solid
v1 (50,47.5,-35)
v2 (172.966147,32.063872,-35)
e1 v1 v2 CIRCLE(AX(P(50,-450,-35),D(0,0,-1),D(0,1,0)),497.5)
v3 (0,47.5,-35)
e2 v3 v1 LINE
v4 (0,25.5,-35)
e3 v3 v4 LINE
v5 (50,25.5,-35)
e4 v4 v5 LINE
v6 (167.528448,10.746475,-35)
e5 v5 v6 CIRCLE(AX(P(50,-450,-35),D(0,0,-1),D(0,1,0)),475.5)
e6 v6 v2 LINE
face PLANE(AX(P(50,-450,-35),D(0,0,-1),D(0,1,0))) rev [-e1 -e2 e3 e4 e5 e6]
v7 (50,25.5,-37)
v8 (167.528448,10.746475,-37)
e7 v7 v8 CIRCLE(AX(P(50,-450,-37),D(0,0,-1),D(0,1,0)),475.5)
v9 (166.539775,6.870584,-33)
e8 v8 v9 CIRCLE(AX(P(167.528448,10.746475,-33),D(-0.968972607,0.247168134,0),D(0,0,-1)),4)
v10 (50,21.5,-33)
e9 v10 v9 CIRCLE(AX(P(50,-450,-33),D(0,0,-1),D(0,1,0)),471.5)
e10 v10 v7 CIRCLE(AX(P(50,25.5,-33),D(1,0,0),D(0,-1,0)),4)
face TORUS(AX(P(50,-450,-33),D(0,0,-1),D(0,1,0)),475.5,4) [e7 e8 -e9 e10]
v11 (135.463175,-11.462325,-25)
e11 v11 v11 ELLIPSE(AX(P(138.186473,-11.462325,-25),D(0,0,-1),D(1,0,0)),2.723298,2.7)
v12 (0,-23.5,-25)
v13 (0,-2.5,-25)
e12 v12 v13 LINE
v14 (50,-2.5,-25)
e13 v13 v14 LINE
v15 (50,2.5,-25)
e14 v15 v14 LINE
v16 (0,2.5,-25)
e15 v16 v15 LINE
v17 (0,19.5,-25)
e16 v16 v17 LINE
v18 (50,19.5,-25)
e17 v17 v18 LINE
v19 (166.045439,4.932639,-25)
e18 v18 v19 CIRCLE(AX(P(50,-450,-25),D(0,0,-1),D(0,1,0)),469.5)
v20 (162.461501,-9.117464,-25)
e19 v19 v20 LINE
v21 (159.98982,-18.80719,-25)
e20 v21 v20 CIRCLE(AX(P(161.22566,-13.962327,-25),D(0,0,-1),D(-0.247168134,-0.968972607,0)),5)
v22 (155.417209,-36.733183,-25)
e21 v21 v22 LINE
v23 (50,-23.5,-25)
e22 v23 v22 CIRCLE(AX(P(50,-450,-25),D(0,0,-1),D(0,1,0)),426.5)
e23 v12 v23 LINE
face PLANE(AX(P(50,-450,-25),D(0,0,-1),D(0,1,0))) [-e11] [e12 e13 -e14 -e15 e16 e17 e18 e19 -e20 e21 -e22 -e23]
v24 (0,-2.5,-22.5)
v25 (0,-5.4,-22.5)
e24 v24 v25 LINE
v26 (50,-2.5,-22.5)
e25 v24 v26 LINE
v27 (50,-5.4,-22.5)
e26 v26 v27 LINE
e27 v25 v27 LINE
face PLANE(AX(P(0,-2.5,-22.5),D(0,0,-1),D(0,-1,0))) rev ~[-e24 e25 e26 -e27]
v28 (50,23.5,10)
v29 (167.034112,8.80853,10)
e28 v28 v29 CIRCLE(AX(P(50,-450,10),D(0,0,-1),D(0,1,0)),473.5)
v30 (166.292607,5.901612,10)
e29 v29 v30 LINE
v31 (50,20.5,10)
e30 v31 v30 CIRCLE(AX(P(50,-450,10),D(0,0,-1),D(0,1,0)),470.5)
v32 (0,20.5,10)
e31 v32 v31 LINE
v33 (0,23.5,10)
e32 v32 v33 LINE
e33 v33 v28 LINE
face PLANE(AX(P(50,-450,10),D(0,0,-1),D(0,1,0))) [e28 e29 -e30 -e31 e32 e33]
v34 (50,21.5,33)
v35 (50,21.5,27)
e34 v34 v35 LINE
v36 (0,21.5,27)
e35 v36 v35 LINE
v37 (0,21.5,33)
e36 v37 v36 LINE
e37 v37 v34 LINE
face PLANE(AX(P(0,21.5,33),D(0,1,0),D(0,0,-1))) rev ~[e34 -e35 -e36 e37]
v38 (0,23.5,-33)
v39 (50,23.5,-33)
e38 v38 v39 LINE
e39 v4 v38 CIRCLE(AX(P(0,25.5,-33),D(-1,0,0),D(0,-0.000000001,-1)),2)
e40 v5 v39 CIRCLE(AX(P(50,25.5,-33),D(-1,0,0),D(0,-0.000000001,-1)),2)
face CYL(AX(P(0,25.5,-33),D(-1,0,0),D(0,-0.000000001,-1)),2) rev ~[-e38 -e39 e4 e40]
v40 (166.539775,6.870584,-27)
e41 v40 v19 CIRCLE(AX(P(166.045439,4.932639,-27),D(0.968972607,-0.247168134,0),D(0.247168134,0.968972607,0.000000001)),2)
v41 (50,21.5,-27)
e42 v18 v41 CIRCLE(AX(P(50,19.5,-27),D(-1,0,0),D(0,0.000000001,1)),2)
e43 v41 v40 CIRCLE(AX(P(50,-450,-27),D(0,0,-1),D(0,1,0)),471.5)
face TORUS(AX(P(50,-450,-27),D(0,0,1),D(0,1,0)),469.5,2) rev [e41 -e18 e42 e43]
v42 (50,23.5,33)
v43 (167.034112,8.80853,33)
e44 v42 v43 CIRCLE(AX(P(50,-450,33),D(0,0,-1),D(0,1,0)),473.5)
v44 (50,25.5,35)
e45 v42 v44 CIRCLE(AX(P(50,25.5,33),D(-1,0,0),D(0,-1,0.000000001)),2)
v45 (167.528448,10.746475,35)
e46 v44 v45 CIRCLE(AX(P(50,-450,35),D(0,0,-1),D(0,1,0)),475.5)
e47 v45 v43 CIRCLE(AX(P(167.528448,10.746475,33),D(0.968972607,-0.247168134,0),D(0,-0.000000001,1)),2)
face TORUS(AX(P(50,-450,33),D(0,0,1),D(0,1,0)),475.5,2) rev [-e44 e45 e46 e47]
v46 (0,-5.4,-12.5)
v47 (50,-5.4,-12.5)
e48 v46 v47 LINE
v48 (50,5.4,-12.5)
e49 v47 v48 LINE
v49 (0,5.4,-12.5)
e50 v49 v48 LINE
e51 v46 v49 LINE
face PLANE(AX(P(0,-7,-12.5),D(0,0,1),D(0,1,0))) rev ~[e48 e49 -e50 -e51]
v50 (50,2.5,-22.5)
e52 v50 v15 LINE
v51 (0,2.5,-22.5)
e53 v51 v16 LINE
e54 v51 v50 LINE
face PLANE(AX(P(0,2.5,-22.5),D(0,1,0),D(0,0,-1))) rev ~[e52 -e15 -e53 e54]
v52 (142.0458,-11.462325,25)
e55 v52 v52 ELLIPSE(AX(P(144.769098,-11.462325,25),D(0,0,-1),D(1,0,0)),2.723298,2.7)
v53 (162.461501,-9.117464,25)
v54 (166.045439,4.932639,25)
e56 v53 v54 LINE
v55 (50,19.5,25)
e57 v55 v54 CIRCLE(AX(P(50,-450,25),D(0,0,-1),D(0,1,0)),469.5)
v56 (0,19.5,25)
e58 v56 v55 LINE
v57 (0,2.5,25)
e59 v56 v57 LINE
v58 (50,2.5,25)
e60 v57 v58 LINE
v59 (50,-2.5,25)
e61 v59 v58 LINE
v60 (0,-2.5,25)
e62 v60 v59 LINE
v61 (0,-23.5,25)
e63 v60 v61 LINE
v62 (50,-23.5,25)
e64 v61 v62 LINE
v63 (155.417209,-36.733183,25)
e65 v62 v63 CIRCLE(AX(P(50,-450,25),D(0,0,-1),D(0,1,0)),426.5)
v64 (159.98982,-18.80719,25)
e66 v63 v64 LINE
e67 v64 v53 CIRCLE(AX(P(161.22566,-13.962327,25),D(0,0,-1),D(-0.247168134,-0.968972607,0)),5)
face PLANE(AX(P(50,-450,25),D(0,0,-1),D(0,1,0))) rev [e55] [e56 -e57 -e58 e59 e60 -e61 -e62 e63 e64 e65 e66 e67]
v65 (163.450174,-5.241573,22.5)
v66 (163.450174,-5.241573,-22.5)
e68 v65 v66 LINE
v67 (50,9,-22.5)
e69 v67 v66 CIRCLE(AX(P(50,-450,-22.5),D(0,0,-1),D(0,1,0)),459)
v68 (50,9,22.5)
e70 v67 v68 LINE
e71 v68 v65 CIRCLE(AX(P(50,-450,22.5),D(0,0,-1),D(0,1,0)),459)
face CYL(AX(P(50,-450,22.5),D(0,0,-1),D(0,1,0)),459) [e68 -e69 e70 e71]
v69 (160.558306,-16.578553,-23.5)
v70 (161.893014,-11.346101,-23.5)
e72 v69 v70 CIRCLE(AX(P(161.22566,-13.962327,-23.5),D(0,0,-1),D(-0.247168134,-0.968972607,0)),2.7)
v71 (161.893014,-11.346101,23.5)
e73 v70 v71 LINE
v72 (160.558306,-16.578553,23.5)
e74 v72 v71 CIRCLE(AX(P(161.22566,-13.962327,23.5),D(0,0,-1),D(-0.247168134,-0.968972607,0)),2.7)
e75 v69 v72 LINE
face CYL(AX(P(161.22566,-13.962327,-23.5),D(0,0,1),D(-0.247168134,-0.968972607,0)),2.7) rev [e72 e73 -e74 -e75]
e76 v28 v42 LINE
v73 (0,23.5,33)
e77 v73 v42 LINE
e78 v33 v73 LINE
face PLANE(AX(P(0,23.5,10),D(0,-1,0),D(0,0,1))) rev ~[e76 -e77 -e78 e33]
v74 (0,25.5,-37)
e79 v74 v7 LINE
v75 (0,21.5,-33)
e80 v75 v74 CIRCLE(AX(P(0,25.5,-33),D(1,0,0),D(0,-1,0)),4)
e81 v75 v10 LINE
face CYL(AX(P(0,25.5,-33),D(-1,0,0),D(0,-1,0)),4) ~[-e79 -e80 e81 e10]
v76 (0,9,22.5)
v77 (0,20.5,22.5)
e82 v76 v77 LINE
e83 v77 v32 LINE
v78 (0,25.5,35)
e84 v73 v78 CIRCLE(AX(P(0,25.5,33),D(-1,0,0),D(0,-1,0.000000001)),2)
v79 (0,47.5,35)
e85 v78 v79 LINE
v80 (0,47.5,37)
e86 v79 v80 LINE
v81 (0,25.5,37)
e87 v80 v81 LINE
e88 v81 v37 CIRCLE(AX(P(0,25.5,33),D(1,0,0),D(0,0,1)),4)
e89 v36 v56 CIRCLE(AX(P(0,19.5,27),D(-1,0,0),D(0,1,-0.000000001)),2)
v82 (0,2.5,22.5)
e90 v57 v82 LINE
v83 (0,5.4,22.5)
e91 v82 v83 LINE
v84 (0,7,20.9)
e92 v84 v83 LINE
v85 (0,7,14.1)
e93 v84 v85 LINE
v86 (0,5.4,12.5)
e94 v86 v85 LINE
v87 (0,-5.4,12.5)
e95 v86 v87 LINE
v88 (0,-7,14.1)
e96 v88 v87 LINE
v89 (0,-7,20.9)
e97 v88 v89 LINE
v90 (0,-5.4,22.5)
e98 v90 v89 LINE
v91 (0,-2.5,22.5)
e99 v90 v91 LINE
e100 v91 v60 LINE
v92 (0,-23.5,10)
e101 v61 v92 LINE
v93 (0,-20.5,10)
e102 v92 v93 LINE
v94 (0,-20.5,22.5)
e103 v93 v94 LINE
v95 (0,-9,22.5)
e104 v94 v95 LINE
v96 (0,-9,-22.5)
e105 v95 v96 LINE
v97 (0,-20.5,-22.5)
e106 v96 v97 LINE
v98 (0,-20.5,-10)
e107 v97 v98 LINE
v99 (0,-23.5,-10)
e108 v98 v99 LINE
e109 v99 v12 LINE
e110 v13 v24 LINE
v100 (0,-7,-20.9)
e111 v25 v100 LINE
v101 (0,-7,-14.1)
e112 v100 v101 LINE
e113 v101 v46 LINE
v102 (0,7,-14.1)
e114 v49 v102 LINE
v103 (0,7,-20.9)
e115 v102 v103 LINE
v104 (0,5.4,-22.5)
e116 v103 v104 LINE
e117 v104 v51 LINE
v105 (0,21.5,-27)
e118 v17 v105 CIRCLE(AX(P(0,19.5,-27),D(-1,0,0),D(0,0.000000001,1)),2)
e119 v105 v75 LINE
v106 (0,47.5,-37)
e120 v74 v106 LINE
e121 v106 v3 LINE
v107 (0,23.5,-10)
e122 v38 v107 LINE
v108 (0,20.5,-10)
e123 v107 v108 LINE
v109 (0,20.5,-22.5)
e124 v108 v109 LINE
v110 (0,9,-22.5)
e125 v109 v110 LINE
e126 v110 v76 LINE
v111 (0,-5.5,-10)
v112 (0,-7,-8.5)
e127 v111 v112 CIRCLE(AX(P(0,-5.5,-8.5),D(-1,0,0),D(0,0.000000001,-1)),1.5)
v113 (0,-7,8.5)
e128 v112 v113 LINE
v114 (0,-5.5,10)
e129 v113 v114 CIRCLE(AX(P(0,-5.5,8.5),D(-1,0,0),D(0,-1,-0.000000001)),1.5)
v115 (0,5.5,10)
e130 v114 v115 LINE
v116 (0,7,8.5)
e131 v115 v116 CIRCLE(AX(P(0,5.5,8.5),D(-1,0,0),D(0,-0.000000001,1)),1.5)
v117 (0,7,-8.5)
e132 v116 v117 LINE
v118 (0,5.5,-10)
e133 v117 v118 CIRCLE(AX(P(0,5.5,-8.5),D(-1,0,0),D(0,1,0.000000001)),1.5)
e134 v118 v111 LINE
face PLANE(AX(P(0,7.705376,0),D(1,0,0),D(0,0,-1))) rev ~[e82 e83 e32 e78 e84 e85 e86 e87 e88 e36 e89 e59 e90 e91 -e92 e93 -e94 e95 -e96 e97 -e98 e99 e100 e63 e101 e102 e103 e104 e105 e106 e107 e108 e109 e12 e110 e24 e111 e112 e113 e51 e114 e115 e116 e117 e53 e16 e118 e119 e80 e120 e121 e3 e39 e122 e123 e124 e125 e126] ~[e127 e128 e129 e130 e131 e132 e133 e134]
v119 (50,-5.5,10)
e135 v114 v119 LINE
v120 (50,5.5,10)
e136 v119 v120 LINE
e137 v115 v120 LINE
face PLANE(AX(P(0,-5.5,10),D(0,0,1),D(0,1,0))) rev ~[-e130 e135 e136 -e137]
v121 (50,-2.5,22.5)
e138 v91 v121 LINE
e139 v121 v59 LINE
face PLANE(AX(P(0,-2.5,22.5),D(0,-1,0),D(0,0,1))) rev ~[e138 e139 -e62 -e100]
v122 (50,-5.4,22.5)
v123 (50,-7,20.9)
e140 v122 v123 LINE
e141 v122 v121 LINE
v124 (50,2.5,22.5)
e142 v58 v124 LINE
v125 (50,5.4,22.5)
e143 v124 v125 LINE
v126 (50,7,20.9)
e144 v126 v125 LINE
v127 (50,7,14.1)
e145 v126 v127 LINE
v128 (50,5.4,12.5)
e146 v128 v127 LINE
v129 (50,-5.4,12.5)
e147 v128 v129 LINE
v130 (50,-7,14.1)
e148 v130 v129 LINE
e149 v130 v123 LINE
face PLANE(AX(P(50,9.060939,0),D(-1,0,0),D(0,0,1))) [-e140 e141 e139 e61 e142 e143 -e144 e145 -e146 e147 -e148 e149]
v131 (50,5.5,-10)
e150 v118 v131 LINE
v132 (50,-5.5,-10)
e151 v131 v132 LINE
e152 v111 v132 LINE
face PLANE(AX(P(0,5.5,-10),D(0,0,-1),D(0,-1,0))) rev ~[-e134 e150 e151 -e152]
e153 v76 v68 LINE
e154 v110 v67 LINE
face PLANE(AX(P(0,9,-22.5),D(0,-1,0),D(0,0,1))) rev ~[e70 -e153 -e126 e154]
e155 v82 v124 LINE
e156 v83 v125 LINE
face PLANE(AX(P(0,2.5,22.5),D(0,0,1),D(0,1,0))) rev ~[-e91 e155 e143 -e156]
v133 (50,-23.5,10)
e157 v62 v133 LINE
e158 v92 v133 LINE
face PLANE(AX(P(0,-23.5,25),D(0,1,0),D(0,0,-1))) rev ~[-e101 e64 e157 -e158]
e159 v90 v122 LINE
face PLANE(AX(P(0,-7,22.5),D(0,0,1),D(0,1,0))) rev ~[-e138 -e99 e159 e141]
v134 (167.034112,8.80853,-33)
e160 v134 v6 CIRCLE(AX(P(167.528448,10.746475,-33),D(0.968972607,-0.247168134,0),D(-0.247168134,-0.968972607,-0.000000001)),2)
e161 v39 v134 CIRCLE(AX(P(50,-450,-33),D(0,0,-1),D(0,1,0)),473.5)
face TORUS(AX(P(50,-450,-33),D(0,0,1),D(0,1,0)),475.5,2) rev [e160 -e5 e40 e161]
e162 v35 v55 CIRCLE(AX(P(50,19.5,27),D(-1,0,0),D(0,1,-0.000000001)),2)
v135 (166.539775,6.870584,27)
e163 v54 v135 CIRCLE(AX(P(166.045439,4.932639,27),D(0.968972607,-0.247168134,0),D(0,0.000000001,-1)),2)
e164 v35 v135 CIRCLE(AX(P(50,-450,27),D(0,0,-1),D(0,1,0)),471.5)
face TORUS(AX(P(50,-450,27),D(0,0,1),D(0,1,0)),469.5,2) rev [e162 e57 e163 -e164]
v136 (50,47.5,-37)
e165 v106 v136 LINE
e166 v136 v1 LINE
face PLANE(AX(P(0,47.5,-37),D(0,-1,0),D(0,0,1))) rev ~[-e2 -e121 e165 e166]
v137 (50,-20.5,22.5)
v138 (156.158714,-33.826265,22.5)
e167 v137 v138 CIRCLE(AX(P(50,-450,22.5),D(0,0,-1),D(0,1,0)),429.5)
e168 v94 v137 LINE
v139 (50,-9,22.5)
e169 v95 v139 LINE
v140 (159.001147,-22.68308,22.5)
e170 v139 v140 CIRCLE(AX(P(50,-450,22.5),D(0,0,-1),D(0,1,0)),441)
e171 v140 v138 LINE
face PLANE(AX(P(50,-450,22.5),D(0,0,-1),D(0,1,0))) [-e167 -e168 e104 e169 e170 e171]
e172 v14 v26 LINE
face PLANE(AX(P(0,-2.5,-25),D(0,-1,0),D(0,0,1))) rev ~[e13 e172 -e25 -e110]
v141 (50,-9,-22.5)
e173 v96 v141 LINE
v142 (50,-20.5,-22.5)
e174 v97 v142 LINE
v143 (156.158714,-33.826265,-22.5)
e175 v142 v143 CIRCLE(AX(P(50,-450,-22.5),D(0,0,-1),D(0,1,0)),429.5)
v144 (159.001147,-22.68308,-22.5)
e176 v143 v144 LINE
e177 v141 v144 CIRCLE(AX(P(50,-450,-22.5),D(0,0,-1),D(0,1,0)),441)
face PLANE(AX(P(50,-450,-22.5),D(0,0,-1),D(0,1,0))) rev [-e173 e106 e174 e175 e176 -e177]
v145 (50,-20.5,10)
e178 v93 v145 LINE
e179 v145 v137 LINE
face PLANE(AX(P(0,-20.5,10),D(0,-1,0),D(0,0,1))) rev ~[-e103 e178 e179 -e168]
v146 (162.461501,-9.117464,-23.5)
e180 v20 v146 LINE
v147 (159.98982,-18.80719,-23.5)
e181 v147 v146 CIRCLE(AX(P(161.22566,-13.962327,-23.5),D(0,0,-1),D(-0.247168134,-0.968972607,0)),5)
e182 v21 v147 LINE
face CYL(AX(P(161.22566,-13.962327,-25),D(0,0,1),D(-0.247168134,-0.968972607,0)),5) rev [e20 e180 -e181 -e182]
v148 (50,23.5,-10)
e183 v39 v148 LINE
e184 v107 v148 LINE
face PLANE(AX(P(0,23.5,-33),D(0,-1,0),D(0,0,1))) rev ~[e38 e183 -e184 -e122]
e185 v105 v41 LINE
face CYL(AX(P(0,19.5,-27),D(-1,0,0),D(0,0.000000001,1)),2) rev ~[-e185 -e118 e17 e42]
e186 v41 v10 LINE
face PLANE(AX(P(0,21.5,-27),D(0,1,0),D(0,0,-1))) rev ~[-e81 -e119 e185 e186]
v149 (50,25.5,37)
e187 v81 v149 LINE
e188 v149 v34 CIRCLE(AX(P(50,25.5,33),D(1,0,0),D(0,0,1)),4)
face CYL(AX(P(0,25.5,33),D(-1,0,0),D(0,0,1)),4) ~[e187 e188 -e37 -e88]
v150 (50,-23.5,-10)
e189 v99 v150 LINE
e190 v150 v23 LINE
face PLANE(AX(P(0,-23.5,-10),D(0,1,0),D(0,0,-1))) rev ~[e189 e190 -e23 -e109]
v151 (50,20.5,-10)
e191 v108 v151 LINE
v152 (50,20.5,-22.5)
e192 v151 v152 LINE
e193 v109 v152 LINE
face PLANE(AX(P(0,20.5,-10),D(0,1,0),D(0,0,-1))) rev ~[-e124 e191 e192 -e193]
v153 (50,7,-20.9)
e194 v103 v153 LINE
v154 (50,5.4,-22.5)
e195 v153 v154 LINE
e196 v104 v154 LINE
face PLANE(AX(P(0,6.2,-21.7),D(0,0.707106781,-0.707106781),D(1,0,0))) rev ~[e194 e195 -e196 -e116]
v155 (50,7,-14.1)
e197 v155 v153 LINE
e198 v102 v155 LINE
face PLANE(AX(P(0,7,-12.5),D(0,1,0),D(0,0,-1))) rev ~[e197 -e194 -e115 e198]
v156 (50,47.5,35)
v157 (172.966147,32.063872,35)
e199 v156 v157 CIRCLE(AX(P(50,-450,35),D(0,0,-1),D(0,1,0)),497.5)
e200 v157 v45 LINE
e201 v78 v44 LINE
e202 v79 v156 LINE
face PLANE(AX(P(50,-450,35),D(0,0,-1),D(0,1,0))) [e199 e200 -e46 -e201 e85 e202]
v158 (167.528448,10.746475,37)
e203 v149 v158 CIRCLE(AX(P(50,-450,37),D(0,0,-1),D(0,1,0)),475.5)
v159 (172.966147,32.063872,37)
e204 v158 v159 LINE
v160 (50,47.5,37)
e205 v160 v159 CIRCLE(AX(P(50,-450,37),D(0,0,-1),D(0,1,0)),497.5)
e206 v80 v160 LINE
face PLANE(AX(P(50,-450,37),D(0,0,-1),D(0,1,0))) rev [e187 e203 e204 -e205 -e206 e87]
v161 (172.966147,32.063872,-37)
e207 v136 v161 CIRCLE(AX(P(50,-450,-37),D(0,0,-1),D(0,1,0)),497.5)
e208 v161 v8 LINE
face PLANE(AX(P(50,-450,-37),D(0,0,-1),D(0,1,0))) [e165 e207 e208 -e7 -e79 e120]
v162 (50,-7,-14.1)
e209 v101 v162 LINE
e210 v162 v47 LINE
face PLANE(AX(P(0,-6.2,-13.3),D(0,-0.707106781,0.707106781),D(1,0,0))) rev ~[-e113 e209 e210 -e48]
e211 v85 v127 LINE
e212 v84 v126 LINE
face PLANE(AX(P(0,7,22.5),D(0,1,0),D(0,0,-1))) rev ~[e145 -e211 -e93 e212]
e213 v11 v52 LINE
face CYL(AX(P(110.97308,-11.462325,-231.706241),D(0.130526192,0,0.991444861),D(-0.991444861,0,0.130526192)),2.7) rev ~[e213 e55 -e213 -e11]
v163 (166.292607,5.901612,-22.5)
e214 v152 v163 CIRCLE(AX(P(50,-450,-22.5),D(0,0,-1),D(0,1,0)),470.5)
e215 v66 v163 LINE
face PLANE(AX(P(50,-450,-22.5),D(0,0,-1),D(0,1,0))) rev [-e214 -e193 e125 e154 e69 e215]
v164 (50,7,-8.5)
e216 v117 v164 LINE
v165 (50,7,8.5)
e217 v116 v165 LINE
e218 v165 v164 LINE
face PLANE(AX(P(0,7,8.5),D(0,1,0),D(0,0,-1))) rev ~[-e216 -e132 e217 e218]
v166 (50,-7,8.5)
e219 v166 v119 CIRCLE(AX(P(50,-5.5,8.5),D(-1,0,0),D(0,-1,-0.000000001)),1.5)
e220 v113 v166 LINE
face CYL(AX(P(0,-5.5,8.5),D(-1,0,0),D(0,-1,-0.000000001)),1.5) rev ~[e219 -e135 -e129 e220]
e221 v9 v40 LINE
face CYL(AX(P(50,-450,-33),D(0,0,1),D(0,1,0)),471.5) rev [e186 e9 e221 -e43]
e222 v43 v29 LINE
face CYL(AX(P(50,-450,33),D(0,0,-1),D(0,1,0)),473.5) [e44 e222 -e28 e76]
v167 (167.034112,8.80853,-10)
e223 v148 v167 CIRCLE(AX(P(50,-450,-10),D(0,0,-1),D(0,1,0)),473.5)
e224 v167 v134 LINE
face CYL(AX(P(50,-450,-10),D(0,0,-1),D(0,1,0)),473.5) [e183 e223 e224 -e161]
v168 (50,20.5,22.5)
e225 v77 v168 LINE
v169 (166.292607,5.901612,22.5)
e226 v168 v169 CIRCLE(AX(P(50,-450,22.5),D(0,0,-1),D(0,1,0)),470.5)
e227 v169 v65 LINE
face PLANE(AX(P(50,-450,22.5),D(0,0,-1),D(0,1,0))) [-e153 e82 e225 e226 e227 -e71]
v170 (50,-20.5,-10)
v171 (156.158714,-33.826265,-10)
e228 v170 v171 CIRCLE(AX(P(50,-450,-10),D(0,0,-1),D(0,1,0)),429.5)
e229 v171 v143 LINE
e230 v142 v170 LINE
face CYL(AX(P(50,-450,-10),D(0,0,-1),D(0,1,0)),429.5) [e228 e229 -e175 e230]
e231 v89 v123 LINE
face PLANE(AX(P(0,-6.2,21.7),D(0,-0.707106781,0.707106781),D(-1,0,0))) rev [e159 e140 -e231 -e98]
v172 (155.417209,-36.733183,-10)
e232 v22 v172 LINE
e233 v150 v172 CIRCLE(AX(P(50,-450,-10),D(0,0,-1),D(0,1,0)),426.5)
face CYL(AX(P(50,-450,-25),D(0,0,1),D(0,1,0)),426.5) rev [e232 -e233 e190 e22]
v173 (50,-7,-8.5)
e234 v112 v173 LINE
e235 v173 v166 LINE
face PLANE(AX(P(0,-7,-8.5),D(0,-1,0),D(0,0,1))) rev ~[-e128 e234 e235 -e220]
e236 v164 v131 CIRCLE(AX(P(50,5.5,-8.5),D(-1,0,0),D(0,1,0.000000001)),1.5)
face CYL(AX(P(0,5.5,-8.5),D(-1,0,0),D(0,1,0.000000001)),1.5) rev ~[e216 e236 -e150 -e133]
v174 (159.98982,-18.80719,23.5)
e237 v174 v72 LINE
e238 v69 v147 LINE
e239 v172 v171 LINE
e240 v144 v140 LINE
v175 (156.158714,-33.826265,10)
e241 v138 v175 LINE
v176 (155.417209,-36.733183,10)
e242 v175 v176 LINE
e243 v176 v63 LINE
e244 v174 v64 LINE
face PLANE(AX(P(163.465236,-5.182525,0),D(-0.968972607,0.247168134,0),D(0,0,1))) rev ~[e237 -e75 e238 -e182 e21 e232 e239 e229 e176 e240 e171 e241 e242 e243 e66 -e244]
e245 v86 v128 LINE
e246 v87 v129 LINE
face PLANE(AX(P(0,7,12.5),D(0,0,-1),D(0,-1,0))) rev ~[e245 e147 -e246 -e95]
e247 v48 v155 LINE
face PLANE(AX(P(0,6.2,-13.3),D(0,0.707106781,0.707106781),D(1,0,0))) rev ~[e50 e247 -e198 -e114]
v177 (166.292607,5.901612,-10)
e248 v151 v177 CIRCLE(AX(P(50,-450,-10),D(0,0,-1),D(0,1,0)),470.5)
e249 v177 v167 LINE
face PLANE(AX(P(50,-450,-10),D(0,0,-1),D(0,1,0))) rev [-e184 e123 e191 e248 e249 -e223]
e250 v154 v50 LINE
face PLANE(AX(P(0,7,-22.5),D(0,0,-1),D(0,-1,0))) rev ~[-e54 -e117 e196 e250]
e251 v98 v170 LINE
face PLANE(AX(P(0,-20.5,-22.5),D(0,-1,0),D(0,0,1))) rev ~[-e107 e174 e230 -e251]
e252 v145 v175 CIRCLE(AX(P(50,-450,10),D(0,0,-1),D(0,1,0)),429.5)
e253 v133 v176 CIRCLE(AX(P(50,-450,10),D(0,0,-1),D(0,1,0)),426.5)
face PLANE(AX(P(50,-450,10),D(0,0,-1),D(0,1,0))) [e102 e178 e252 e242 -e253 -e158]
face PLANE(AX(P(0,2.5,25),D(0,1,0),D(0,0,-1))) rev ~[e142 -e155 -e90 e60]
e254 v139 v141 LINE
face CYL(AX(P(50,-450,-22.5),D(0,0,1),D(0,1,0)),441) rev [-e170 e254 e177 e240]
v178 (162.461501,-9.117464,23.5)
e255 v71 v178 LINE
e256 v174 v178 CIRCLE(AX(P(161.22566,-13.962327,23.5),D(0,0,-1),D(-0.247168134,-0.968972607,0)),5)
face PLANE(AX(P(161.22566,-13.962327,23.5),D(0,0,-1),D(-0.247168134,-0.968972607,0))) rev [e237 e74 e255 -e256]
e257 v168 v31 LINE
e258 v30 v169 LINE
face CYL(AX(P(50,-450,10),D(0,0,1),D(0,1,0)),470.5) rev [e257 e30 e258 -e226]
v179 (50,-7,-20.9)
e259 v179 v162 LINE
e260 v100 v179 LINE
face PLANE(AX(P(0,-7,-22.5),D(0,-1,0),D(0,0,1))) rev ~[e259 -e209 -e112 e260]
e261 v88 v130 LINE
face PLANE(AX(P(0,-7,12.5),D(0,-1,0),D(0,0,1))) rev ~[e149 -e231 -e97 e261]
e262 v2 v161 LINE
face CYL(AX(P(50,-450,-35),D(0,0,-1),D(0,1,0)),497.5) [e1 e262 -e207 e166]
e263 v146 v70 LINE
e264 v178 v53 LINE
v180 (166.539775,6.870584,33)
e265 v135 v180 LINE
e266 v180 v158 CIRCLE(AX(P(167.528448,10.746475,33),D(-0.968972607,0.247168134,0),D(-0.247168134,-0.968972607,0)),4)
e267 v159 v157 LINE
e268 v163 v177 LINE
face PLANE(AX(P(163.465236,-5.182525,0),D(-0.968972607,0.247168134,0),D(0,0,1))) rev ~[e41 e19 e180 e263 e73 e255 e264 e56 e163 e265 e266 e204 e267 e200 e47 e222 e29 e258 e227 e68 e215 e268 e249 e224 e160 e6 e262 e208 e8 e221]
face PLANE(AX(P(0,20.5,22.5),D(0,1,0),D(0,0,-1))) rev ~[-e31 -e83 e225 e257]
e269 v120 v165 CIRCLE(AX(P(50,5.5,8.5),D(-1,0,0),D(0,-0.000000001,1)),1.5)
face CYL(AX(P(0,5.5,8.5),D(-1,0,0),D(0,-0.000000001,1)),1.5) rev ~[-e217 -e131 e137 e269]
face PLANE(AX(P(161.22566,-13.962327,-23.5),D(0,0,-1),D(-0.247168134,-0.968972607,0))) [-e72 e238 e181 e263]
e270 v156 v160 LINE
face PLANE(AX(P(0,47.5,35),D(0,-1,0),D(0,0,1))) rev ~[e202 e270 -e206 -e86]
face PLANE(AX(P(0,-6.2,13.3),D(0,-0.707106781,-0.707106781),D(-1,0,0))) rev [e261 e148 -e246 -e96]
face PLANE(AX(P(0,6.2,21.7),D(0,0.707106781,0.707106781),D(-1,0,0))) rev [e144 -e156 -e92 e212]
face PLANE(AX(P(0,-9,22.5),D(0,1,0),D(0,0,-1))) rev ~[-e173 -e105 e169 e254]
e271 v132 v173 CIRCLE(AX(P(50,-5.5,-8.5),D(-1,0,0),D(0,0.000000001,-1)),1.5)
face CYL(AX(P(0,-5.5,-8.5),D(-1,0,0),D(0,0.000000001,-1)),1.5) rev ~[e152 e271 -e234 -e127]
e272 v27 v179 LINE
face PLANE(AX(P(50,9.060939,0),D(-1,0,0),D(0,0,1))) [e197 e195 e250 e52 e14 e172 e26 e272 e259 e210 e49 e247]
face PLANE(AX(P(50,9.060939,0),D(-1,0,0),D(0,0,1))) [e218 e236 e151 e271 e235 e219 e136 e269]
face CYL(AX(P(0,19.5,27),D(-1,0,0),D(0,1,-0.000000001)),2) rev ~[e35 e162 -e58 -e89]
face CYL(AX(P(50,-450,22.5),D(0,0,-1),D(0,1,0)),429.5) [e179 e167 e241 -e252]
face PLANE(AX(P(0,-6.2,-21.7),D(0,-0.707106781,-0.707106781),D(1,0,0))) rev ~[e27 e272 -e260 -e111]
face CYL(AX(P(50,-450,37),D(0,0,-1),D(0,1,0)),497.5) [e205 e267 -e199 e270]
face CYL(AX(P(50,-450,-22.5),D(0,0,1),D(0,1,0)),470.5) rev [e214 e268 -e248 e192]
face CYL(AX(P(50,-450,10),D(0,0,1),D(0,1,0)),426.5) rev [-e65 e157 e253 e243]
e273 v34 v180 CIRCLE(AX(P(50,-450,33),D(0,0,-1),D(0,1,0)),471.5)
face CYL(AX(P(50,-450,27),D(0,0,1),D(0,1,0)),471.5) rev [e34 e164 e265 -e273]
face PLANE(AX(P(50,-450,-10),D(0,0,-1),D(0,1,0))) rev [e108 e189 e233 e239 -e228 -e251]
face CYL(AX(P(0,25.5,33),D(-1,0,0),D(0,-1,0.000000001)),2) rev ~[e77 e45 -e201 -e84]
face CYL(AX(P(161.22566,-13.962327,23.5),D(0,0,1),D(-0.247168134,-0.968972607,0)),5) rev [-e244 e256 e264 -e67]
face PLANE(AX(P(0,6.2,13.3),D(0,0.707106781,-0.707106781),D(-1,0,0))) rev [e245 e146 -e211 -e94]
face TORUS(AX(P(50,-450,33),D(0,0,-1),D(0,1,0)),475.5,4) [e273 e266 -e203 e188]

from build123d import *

# Parameters (mm, degrees)
ESTRUSIONE_ESTRUSIONE1_DEPTH = 50
SMUSSO1_SIZE                 = 1.6
RIVOLUZIONE1_ANGLE           = 14.31
FORO_PER_VITE_M5_1_D         = 5.4
FORO_PER_VITE_M5_1_DEPTH     = 160
FORO_PER_VITE_M5_1_TIP       = 1.622323671


with BuildPart() as part:
    # Schizzo1 → Estrusione-Estrusione1 (new body)
    with BuildSketch(Plane(origin=(0, 0, 0), x_dir=(0, 0, -1), z_dir=(1, 0, 0))):
        with BuildLine():
            Line((-10, -23.5), (-10, -20.5))
            Line((-10, -20.5), (-22.5, -20.5))
            Line((-22.5, -20.5), (-22.5, -9))
            Line((-22.5, -9), (22.5, -9))
            Line((22.5, -9), (22.5, -20.5))
            Line((22.5, -20.5), (10, -20.5))
            Line((10, -20.5), (10, -23.5))
            Line((10, -23.5), (25, -23.5))
            Line((25, -23.5), (25, -2.5))
            Line((25, -2.5), (22.5, -2.5))
            Line((22.5, -2.5), (22.5, -7))
            Line((22.5, -7), (12.5, -7))
            Line((12.5, -7), (12.5, 7))
            Line((12.5, 7), (22.5, 7))
            Line((22.5, 7), (22.5, 2.5))
            Line((22.5, 2.5), (25, 2.5))
            Line((25, 2.5), (25, 19.5))
            ThreePointArc((25, 19.5), (25.585786438, 20.914213562), (27, 21.5))
            Line((27, 21.5), (33, 21.5))
            ThreePointArc((33, 21.5), (35.828427125, 22.671572875), (37, 25.5))
            Line((37, 25.5), (37, 47.5))
            Line((37, 47.5), (35, 47.5))
            Line((35, 47.5), (35, 25.5))
            ThreePointArc((35, 25.5), (34.414213562, 24.085786438), (33, 23.5))
            Line((33, 23.5), (10, 23.5))
            Line((10, 23.5), (10, 20.5))
            Line((10, 20.5), (22.5, 20.5))
            Line((22.5, 20.5), (22.5, 9))
            Line((22.5, 9), (-22.5, 9))
            Line((-22.5, 9), (-22.5, 20.5))
            Line((-22.5, 20.5), (-10, 20.5))
            Line((-10, 20.5), (-10, 23.5))
            Line((-10, 23.5), (-33, 23.5))
            ThreePointArc((-33, 23.5), (-34.414213562, 24.085786438), (-35, 25.5))
            Line((-35, 25.5), (-35, 47.5))
            Line((-35, 47.5), (-37, 47.5))
            Line((-37, 47.5), (-37, 25.5))
            ThreePointArc((-37, 25.5), (-35.828427125, 22.671572875), (-33, 21.5))
            Line((-33, 21.5), (-27, 21.5))
            ThreePointArc((-27, 21.5), (-25.585786438, 20.914213562), (-25, 19.5))
            Line((-25, 19.5), (-25, 2.5))
            Line((-25, 2.5), (-22.5, 2.5))
            Line((-22.5, 2.5), (-22.5, 7))
            Line((-22.5, 7), (-12.5, 7))
            Line((-12.5, 7), (-12.5, -7))
            Line((-12.5, -7), (-22.5, -7))
            Line((-22.5, -7), (-22.5, -2.5))
            Line((-22.5, -2.5), (-25, -2.5))
            Line((-25, -2.5), (-25, -23.5))
            Line((-25, -23.5), (-10, -23.5))
        make_face()
        with BuildLine():
            Line((-8.5, 7), (8.5, 7))
            ThreePointArc((8.5, 7), (9.560660172, 6.560660172), (10, 5.5))
            Line((10, 5.5), (10, -5.5))
            ThreePointArc((10, -5.5), (9.560660172, -6.560660172), (8.5, -7))
            Line((8.5, -7), (-8.5, -7))
            ThreePointArc((-8.5, -7), (-9.560660172, -6.560660172), (-10, -5.5))
            Line((-10, -5.5), (-10, 5.5))
            ThreePointArc((-10, 5.5), (-9.560660172, 6.560660172), (-8.5, 7))
        make_face(mode=Mode.SUBTRACT)
    extrude(amount=ESTRUSIONE_ESTRUSIONE1_DEPTH)

    # Smusso1
    smusso1_edges = [part.edges().sort_by_distance(p)[0] for p in [
        (25, -7, 22.5),
        (25, -7, 12.5),
        (25, 7, 12.5),
        (25, 7, 22.5),
        (25, 7, -22.5),
        (25, 7, -12.5),
        (25, -7, -12.5),
        (25, -7, -22.5),
    ]]
    chamfer(smusso1_edges, length=SMUSSO1_SIZE)

    # Schizzo2 → Rivoluzione1 (revolve)
    with BuildSketch(Plane(origin=(50, 0, 0), x_dir=(0, 0, -1), z_dir=(1, 0, 0))):
        with BuildLine():
            Line((-10, -23.5), (-25, -23.5))
            Line((-25, -23.5), (-25, 19.5))
            ThreePointArc((-25, 19.5), (-25.585786438, 20.914213562), (-27, 21.5))
            Line((-27, 21.5), (-33, 21.5))
            ThreePointArc((-33, 21.5), (-35.828427125, 22.671572875), (-37, 25.5))
            Line((-37, 25.5), (-37, 47.5))
            Line((-37, 47.5), (-35, 47.5))
            Line((-35, 47.5), (-35, 25.5))
            ThreePointArc((-35, 25.5), (-34.414213562, 24.085786438), (-33, 23.5))
            Line((-33, 23.5), (-10, 23.5))
            Line((-10, 23.5), (-10, 20.5))
            Line((-10, 20.5), (-22.5, 20.5))
            Line((-22.5, 20.5), (-22.5, 9))
            Line((-22.5, 9), (22.5, 9))
            Line((22.5, 9), (22.5, 20.5))
            Line((22.5, 20.5), (10, 20.5))
            Line((10, 20.5), (10, 23.5))
            Line((10, 23.5), (33, 23.5))
            ThreePointArc((33, 23.5), (34.414213562, 24.085786438), (35, 25.5))
            Line((35, 25.5), (35, 47.5))
            Line((35, 47.5), (37, 47.5))
            Line((37, 47.5), (37, 25.5))
            ThreePointArc((37, 25.5), (35.828427125, 22.671572875), (33, 21.5))
            Line((33, 21.5), (27, 21.5))
            ThreePointArc((27, 21.5), (25.585786438, 20.914213562), (25, 19.5))
            Line((25, 19.5), (25, -23.5))
            Line((25, -23.5), (10, -23.5))
            Line((10, -23.5), (10, -20.5))
            Line((10, -20.5), (22.5, -20.5))
            Line((22.5, -20.5), (22.5, -9))
            Line((22.5, -9), (-22.5, -9))
            Line((-22.5, -9), (-22.5, -20.5))
            Line((-22.5, -20.5), (-10, -20.5))
            Line((-10, -20.5), (-10, -23.5))
        make_face()
    revolve(axis=Axis((50, -450, 89.886149412), (0, 0, -1)), revolution_arc=RIVOLUZIONE1_ANGLE)

    # Schizzo18 → Taglia-Rivoluzione1 (revolve, cut)
    with BuildSketch(Plane(origin=(154.720013769, -39.4663965, 0), x_dir=(0, 0, 1), z_dir=(0.968972607187923, -0.24716813411004132, 0))):
        Polygon((25, -26.320733471), (-25, -26.320733471), (-25, -21.320733471), (-23.5, -21.320733471), (-23.5, -23.620733471), (23.5, -23.620733471), (23.5, -21.320733471), (25, -21.320733471), align=None)
    revolve(axis=Axis((161.22566035, -13.962326765, 25), (0, 0, -1)), mode=Mode.SUBTRACT)

    # Foro per Vite M5-1
    with Locations(Plane(origin=(-7.210145196, 0, -54.766490026), x_dir=(0.9914448613738105, 0, -0.13052619222005182), z_dir=(-0.13052619222005182, 0, -0.9914448613738105))):
        with Locations((140.267423642, 11.462325347)):
            Hole(FORO_PER_VITE_M5_1_D / 2, depth=FORO_PER_VITE_M5_1_DEPTH)
            with Locations((0, 0, -(FORO_PER_VITE_M5_1_DEPTH + FORO_PER_VITE_M5_1_TIP / 2))):  # 118° drill point
                Cone(0, FORO_PER_VITE_M5_1_D / 2, FORO_PER_VITE_M5_1_TIP, mode=Mode.SUBTRACT)


solid = part.part
